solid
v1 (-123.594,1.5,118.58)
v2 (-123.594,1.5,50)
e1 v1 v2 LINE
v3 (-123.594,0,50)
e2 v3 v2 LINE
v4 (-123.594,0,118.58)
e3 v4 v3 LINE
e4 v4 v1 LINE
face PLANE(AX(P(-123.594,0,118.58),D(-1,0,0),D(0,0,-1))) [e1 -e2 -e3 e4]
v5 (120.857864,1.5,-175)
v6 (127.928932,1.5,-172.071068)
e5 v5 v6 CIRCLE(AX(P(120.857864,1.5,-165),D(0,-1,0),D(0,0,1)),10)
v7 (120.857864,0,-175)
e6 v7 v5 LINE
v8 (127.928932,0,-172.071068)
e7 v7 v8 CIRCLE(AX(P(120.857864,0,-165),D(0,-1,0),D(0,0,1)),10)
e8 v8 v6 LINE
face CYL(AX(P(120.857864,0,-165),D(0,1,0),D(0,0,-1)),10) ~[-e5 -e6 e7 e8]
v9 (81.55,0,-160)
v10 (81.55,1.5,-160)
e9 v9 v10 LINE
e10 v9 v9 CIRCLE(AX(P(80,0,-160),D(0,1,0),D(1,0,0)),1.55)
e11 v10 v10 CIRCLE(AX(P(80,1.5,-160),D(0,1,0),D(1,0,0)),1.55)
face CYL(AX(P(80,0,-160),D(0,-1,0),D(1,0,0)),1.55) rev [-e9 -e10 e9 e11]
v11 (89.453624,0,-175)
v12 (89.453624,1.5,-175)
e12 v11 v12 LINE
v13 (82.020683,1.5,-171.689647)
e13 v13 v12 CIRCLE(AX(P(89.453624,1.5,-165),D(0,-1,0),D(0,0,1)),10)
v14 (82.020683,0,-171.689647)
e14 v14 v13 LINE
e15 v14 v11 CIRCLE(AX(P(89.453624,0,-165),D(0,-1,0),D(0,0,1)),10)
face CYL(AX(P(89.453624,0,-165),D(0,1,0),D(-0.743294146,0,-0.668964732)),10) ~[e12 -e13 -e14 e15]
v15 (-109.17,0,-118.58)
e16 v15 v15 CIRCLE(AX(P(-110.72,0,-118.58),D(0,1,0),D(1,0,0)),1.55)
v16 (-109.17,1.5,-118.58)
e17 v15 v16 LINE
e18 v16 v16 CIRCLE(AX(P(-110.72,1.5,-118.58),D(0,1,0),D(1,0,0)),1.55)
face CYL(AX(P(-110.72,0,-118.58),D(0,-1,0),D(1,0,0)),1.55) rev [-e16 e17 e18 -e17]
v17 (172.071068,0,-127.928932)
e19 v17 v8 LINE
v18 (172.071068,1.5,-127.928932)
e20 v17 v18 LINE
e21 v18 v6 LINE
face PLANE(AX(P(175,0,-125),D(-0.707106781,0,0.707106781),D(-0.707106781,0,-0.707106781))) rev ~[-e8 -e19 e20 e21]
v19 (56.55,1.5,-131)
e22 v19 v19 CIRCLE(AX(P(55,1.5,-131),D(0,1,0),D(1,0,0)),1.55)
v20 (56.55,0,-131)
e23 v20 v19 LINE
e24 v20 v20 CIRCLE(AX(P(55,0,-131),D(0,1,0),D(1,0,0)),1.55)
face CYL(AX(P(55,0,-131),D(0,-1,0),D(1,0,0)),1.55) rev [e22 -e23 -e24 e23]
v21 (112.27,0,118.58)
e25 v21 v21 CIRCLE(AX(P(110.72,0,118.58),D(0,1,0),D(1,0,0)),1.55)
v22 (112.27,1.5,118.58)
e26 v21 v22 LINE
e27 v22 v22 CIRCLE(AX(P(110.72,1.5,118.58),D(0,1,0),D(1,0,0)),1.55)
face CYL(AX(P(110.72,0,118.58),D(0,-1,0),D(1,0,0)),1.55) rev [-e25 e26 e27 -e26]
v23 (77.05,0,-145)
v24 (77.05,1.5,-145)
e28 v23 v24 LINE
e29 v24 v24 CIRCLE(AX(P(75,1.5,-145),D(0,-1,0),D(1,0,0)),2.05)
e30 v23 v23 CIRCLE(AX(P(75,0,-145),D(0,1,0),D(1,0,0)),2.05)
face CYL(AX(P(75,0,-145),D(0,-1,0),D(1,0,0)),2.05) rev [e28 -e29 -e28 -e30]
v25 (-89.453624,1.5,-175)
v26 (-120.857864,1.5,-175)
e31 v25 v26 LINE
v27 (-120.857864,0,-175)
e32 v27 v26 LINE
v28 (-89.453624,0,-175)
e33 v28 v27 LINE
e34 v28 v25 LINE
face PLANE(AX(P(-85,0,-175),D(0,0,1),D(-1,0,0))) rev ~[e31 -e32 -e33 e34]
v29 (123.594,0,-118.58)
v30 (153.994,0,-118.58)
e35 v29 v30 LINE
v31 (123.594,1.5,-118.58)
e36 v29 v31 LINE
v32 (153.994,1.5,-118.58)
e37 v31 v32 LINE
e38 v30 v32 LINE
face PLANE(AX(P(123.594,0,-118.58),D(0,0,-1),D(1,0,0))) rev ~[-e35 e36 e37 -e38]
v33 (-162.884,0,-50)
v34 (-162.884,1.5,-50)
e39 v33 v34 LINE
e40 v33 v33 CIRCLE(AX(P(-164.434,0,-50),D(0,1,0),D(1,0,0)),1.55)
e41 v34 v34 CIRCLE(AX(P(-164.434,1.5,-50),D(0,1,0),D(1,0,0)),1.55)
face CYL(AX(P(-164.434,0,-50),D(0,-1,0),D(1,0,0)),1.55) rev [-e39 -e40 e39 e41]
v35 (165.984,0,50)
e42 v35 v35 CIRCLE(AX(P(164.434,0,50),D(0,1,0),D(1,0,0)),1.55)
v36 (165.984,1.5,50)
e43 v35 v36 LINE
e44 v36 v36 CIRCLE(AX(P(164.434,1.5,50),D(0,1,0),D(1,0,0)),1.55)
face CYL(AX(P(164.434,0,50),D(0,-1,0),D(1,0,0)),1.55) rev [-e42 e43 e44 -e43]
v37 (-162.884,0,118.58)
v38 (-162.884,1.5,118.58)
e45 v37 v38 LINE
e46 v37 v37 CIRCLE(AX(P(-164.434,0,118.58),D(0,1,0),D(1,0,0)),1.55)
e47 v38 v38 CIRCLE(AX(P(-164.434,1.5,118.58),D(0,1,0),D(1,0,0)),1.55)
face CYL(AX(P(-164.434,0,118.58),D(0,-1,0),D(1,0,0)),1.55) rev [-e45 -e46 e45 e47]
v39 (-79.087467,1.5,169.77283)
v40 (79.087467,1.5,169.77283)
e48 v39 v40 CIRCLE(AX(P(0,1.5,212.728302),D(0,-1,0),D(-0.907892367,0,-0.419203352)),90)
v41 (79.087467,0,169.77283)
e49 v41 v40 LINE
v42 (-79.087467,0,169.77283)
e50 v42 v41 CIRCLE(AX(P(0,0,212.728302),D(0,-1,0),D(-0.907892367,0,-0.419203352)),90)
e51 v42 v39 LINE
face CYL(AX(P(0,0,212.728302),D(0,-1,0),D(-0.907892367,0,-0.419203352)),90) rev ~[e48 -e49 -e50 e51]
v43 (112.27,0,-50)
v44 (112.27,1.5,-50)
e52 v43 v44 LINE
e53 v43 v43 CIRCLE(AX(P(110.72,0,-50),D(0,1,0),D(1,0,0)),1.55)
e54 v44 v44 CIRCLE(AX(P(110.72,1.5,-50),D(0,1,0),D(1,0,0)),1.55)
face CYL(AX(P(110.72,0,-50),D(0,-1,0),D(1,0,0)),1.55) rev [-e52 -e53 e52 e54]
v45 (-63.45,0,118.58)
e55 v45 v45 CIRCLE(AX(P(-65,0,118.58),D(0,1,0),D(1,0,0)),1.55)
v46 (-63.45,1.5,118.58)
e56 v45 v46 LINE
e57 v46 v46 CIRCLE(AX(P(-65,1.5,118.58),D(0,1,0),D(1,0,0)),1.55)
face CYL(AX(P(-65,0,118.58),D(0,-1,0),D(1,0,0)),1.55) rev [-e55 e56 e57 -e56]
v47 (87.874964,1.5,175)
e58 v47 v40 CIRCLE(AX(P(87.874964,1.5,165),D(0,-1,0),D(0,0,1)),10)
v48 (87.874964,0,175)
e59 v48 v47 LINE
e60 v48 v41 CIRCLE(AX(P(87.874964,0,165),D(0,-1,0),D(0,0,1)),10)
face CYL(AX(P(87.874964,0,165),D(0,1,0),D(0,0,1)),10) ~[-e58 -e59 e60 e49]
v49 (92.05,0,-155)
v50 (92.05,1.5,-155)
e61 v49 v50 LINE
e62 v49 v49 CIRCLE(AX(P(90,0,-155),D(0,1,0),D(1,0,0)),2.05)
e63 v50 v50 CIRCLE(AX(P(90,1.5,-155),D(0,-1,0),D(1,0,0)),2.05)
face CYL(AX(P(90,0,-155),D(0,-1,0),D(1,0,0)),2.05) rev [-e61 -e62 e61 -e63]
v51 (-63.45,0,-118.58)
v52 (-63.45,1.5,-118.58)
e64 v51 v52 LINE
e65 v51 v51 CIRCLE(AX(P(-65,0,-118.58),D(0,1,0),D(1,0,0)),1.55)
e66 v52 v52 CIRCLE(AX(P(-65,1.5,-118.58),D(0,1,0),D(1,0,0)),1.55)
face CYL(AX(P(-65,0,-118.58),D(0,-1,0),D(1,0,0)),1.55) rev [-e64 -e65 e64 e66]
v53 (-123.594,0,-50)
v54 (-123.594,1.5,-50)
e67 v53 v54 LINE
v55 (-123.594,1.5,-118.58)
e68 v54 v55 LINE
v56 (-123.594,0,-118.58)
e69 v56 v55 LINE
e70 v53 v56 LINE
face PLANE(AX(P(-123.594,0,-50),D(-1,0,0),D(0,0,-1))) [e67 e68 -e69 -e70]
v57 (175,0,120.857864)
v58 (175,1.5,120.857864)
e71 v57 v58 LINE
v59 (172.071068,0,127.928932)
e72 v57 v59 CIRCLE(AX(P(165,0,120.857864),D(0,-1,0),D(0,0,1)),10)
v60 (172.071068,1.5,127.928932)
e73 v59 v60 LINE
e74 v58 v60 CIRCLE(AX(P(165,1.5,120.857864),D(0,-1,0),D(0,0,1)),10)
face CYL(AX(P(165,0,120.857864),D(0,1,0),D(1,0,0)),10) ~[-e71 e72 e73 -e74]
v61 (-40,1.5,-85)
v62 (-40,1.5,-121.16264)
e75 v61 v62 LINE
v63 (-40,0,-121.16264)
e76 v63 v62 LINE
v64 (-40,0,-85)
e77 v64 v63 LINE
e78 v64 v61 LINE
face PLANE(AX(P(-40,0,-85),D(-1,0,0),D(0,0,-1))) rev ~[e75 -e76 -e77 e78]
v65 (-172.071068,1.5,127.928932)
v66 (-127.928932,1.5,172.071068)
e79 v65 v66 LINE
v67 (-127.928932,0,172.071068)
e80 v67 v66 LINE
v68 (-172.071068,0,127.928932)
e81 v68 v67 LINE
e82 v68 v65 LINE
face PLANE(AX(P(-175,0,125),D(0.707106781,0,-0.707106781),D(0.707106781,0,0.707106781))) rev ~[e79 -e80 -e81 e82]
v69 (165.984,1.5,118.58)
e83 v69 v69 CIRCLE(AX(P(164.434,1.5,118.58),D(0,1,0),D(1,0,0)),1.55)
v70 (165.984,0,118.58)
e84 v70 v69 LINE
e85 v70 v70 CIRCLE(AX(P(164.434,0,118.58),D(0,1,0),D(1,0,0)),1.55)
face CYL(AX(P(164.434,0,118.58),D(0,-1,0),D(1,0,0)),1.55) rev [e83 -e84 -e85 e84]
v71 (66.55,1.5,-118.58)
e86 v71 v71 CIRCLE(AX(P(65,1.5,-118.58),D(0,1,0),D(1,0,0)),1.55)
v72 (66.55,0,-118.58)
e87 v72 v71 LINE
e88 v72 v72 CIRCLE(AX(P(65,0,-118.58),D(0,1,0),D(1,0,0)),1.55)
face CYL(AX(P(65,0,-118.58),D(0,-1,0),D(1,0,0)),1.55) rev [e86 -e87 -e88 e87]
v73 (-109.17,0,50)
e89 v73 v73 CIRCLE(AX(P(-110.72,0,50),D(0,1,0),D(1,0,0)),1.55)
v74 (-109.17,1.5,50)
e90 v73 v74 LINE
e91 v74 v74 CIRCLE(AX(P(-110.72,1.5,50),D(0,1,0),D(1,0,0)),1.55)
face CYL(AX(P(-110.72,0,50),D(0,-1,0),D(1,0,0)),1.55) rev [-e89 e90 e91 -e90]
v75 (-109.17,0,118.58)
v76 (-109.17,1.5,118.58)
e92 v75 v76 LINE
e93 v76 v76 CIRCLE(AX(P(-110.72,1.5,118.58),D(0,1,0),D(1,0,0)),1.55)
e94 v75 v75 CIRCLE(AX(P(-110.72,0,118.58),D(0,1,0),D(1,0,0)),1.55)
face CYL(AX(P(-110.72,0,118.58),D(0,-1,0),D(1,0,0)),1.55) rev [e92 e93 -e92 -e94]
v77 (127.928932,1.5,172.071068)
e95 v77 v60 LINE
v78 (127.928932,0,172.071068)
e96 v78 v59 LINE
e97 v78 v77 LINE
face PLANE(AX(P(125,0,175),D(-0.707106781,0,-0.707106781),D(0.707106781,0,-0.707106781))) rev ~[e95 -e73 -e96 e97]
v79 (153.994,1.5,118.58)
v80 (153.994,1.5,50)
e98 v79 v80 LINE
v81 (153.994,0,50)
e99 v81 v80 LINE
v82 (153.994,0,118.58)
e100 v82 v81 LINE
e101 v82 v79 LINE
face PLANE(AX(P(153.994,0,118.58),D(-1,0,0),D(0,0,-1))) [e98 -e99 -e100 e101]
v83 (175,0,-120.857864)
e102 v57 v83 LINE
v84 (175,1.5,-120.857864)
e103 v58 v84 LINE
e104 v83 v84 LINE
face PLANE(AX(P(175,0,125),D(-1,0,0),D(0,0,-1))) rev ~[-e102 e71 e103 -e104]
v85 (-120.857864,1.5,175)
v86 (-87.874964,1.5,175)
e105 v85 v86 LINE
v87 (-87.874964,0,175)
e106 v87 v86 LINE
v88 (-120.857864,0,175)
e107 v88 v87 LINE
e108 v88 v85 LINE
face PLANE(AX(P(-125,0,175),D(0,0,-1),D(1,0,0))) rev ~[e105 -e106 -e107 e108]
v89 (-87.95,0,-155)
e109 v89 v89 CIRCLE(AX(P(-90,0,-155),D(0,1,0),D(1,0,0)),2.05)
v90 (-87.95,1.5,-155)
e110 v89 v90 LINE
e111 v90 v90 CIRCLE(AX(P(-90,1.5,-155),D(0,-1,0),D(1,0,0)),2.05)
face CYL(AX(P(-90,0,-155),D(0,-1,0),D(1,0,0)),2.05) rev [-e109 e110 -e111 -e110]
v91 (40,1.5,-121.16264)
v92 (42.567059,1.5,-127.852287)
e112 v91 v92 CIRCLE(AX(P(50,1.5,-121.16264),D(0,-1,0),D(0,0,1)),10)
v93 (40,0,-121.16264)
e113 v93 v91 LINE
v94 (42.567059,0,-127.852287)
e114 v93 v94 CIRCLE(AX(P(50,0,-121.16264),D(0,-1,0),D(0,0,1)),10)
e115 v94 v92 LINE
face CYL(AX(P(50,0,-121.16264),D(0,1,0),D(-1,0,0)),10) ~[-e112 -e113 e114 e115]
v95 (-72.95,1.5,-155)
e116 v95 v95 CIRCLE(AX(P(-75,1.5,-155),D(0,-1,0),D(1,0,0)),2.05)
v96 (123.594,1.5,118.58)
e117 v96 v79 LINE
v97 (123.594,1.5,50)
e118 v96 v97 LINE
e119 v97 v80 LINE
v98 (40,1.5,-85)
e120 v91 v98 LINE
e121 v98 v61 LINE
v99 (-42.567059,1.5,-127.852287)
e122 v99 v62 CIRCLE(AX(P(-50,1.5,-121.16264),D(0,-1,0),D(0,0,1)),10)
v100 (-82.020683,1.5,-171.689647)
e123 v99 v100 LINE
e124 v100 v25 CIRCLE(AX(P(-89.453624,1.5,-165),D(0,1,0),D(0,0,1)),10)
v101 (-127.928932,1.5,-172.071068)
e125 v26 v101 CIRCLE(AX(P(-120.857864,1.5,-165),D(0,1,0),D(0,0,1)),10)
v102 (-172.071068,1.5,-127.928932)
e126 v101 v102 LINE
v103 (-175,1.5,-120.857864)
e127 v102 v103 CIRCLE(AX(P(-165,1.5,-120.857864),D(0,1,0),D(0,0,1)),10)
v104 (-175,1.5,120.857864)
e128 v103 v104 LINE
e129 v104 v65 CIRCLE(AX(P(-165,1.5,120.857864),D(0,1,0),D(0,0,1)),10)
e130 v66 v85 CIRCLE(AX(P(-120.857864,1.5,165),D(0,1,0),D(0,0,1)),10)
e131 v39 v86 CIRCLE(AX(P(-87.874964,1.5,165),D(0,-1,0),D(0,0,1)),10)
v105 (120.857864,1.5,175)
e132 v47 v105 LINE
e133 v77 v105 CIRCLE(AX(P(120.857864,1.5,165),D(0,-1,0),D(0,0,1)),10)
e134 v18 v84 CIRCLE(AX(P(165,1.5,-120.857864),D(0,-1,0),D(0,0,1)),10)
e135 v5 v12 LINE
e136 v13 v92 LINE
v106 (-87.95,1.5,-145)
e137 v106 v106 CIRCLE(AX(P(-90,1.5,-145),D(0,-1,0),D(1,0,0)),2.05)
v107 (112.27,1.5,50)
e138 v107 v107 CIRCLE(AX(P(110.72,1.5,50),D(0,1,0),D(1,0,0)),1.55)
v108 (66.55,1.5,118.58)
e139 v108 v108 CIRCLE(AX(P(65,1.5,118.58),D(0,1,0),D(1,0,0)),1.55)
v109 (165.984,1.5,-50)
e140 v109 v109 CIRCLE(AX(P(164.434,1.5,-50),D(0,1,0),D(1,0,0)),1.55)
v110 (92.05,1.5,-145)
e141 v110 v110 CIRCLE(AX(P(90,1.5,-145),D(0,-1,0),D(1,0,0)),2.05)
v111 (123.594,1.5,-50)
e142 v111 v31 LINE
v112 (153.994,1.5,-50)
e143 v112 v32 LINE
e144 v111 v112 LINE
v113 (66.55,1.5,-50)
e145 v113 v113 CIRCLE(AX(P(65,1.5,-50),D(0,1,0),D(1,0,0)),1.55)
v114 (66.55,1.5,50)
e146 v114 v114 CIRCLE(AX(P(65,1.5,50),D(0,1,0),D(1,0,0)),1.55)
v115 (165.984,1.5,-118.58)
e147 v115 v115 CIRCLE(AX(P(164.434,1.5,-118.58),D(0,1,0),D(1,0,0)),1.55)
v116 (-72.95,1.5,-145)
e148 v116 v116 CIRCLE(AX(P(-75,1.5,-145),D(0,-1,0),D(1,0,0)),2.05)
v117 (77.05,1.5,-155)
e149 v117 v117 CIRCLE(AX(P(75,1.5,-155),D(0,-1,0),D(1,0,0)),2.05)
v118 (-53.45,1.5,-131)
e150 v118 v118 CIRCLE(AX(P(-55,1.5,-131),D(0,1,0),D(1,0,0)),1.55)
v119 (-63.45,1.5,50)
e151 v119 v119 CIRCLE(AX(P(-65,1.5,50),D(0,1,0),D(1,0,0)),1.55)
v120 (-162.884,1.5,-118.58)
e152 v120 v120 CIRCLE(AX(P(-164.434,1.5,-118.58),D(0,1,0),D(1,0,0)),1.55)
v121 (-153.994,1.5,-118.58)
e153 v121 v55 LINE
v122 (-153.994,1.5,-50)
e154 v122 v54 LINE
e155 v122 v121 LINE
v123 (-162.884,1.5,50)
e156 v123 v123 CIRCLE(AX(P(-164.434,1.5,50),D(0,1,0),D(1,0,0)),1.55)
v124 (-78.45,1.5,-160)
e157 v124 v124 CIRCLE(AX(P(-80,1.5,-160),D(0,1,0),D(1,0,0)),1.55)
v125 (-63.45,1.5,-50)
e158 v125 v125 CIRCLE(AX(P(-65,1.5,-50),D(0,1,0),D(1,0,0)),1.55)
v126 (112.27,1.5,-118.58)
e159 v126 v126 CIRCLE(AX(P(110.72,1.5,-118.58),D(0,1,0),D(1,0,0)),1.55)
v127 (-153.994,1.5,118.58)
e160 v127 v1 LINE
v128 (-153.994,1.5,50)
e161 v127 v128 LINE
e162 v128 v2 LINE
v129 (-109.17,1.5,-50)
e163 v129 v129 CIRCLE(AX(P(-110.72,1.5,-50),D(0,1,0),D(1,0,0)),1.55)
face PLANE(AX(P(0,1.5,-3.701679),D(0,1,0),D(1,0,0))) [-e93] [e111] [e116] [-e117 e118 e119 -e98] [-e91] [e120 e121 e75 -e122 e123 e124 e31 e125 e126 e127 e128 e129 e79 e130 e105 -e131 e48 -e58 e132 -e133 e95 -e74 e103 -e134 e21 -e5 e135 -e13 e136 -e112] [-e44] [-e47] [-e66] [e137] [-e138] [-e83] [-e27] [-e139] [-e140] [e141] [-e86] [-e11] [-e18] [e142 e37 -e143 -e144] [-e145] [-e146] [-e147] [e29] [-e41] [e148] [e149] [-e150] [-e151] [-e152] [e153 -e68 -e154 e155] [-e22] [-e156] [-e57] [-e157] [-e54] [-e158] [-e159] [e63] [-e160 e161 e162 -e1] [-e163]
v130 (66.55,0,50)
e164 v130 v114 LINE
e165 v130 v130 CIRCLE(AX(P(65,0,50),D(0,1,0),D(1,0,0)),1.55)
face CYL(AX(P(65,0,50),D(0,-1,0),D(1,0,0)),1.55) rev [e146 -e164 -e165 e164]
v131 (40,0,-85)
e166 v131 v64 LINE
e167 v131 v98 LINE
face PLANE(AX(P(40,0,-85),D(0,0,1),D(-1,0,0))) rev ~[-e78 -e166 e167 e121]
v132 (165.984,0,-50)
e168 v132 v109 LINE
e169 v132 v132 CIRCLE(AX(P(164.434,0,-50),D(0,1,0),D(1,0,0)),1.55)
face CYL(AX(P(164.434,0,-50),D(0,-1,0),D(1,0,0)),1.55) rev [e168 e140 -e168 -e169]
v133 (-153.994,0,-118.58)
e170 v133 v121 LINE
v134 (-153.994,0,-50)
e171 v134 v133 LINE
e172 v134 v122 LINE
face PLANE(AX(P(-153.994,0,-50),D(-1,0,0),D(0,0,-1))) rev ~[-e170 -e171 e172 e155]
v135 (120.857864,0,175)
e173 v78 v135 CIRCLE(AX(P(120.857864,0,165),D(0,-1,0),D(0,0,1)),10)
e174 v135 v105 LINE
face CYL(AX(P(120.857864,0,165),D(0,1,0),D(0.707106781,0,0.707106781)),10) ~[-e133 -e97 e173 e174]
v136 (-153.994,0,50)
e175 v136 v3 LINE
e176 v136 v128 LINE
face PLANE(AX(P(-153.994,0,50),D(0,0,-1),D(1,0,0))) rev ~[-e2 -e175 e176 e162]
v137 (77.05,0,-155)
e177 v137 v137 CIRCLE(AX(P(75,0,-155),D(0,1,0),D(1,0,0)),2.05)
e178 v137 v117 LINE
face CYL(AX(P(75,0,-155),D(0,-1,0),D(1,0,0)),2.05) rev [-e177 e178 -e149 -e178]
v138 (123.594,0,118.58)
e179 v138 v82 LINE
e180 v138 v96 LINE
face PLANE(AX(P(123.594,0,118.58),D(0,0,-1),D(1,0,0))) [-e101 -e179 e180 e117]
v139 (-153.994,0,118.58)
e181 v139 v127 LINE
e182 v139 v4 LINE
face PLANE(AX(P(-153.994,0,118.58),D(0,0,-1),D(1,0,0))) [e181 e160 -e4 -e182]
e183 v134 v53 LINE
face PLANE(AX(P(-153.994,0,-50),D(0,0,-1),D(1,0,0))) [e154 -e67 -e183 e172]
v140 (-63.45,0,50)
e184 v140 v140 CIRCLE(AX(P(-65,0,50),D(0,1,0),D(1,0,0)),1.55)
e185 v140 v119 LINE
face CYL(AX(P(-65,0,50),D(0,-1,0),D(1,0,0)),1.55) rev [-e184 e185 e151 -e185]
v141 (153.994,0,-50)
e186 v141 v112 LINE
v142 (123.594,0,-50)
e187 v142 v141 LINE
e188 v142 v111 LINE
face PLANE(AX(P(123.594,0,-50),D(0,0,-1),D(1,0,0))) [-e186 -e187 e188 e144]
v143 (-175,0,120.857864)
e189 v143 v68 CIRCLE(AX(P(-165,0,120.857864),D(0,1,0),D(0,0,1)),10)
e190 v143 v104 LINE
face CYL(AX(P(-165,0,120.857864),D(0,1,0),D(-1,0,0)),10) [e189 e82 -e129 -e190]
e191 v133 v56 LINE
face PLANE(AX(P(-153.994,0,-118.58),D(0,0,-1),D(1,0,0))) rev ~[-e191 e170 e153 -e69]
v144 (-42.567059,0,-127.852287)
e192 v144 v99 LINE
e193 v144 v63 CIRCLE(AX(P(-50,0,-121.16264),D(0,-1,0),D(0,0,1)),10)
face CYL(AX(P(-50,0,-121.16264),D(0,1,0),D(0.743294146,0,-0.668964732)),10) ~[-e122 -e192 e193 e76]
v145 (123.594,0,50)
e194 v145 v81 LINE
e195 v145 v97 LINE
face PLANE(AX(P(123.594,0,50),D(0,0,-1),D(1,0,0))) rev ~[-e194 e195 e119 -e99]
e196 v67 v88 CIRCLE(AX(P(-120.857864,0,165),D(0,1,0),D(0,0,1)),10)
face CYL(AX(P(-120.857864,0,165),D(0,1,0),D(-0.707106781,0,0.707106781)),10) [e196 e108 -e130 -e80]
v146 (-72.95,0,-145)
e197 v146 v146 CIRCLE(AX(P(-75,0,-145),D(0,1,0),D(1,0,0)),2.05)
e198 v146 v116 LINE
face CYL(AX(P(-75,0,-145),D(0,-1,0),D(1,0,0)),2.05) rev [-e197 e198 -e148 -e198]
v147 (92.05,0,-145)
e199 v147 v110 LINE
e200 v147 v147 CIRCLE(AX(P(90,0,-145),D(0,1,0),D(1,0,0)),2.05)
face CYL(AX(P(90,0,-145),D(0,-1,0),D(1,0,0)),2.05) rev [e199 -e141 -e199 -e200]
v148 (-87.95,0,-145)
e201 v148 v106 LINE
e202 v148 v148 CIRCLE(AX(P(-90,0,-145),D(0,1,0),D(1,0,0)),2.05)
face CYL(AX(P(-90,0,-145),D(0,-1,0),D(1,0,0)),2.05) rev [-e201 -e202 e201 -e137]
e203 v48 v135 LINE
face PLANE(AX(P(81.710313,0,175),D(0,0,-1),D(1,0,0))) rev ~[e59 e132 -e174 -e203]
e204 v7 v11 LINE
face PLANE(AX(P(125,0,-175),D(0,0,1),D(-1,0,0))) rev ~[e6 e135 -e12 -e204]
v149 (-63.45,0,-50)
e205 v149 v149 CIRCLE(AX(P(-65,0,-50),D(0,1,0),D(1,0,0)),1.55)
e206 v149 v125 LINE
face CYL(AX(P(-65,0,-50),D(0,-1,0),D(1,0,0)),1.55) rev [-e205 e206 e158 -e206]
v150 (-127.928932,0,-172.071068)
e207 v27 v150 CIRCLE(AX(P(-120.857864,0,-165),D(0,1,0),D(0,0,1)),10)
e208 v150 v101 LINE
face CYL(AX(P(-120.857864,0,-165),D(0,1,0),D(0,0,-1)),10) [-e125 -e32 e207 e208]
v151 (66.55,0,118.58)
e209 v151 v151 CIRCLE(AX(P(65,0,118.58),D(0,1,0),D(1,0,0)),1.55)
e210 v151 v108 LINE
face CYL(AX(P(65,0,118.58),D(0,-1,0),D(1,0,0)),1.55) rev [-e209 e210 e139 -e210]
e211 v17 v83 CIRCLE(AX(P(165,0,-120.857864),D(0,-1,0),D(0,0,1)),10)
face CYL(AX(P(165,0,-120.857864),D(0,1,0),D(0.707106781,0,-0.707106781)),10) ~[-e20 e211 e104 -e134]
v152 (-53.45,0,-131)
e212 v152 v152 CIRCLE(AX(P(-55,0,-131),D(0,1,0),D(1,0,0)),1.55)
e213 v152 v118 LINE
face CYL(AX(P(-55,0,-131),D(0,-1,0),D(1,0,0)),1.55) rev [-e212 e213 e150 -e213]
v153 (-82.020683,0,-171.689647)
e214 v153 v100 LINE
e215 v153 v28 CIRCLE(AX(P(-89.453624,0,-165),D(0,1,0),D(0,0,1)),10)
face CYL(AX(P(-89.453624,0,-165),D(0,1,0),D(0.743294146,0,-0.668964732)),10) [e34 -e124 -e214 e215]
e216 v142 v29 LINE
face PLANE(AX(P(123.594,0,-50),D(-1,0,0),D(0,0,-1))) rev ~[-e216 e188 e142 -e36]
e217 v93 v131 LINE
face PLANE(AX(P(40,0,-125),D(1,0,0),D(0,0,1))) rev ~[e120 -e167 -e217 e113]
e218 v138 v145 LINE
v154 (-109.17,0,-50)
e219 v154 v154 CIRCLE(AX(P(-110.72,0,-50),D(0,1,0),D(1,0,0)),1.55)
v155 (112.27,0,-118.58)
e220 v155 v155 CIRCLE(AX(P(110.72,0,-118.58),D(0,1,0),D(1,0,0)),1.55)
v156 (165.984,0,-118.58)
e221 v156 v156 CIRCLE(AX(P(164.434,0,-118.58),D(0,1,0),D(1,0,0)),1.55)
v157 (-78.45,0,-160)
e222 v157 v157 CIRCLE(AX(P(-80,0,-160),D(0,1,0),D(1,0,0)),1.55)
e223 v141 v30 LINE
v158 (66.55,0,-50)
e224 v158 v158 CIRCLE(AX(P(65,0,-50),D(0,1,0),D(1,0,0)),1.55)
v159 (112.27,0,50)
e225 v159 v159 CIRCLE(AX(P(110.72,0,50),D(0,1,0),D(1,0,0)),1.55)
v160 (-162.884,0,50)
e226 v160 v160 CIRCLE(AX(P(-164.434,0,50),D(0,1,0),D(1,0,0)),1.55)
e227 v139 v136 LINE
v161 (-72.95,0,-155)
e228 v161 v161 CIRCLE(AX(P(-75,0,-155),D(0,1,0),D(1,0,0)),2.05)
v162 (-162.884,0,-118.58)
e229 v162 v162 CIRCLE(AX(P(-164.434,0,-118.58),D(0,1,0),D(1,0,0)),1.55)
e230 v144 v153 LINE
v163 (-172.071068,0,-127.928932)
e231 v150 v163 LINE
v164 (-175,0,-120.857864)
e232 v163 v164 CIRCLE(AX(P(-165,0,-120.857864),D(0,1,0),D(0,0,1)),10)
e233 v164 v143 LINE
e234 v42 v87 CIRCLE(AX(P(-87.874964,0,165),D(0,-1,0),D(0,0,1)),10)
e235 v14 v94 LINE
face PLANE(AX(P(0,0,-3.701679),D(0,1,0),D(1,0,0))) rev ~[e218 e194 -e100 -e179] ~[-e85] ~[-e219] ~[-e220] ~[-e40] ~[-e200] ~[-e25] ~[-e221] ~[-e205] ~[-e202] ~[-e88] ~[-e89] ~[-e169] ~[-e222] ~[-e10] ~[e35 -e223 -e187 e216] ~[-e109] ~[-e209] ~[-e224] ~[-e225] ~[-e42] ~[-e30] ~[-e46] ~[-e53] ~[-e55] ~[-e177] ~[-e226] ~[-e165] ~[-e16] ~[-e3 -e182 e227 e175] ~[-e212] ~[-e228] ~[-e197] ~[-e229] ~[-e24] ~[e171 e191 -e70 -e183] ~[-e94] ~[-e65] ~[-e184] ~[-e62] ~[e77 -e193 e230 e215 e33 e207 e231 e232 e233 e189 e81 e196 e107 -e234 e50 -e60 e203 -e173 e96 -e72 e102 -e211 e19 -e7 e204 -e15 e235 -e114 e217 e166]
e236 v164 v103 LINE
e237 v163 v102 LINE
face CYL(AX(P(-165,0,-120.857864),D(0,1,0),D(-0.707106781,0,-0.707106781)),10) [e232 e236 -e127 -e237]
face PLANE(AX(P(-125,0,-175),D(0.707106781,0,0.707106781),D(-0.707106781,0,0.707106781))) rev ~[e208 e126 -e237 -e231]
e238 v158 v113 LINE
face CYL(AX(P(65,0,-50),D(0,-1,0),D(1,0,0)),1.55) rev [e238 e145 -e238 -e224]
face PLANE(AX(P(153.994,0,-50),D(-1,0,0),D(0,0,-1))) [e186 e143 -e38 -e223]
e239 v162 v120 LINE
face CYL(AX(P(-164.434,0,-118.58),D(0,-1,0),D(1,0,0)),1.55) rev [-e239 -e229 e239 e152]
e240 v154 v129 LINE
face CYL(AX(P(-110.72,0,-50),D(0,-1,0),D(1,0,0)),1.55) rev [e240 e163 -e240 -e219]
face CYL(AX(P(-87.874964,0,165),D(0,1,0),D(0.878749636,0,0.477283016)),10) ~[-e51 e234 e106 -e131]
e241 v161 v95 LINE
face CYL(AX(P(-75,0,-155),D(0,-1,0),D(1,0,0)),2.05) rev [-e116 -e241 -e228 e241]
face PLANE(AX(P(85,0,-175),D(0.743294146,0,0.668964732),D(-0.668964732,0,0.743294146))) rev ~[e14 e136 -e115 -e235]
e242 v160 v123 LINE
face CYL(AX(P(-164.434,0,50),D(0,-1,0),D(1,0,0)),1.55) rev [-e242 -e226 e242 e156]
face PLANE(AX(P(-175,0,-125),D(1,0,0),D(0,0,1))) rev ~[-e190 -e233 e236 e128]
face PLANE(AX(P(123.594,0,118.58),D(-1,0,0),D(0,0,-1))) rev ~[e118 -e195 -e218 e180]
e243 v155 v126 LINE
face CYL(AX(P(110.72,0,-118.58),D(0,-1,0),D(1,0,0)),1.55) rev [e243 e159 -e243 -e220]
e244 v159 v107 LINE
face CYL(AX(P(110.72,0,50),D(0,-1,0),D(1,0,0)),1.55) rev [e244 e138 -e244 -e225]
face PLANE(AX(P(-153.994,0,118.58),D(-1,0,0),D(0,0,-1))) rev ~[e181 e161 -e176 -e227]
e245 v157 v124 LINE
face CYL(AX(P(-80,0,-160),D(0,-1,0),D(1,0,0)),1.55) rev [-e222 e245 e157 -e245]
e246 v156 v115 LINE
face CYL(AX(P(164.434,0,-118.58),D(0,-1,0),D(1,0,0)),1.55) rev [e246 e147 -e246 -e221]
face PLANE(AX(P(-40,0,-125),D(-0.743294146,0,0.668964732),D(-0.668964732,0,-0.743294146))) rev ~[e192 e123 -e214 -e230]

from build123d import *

# Parameters (mm, degrees)
SKETCH_1_R          = 1.55
SKETCH_1_W          = 30.4
SKETCH_1_H          = 68.58
EXTRUDE_1_DEPTH     = 1.5
FILLET_1_R          = 10
FILLET_2_R          = 10
FILLET_3_R          = 10
SKETCH_1_5_R        = 2.05
CUT_EXTRUDE_3_DEPTH = 10


with BuildPart() as part:
    # 草图1 → 凸台-拉伸1 (new body)
    with BuildSketch(Plane(origin=(0, 0, 0), x_dir=(1, 0, 0), z_dir=(0, 1, 0))):
        with BuildLine():
            Line((-125, 175), (-175, 125))
            Line((-175, 125), (-175, -125))
            Line((-175, -125), (-125, -175))
            Line((-125, -175), (-81.710313025, -175))
            ThreePointArc((-81.710313025, -175), (0, -122.728301649), (81.710313025, -175))
            Line((81.710313025, -175), (125, -175))
            Line((125, -175), (175, -125))
            Line((175, -125), (175, 125))
            Line((175, 125), (125, 175))
            Line((125, 175), (85, 175))
            Line((85, 175), (40, 125))
            Line((40, 125), (40, 85))
            Line((40, 85), (-40, 85))
            Line((-40, 85), (-40, 125))
            Line((-40, 125), (-85, 175))
            Line((-85, 175), (-125, 175))
        make_face()
        with Locations((-55, 131)):
            Circle(SKETCH_1_R, mode=Mode.SUBTRACT)
        with Locations((-80, 160)):
            Circle(SKETCH_1_R, mode=Mode.SUBTRACT)
        with Locations((55, 131)):
            Circle(SKETCH_1_R, mode=Mode.SUBTRACT)
        with Locations((80, 160)):
            Circle(SKETCH_1_R, mode=Mode.SUBTRACT)
        with Locations((-65, 118.58)):
            Circle(SKETCH_1_R, mode=Mode.SUBTRACT)
        with Locations((-65, 50)):
            Circle(SKETCH_1_R, mode=Mode.SUBTRACT)
        with Locations((-110.72, 50)):
            Circle(SKETCH_1_R, mode=Mode.SUBTRACT)
        with Locations((-110.72, 118.58)):
            Circle(SKETCH_1_R, mode=Mode.SUBTRACT)
        with Locations((-164.434, 118.58)):
            Circle(SKETCH_1_R, mode=Mode.SUBTRACT)
        with Locations((-164.434, 50)):
            Circle(SKETCH_1_R, mode=Mode.SUBTRACT)
        with Locations((-65, -118.58)):
            Circle(SKETCH_1_R, mode=Mode.SUBTRACT)
        with Locations((-65, -50)):
            Circle(SKETCH_1_R, mode=Mode.SUBTRACT)
        with Locations((-110.72, -50)):
            Circle(SKETCH_1_R, mode=Mode.SUBTRACT)
        with Locations((-110.72, -118.58)):
            Circle(SKETCH_1_R, mode=Mode.SUBTRACT)
        with Locations((-164.434, -50)):
            Circle(SKETCH_1_R, mode=Mode.SUBTRACT)
        with Locations((-164.434, -118.58)):
            Circle(SKETCH_1_R, mode=Mode.SUBTRACT)
        with Locations((65, 50)):
            Circle(SKETCH_1_R, mode=Mode.SUBTRACT)
        with Locations((110.72, 50)):
            Circle(SKETCH_1_R, mode=Mode.SUBTRACT)
        with Locations((110.72, 118.58)):
            Circle(SKETCH_1_R, mode=Mode.SUBTRACT)
        with Locations((65, 118.58)):
            Circle(SKETCH_1_R, mode=Mode.SUBTRACT)
        with Locations((164.434, 118.58)):
            Circle(SKETCH_1_R, mode=Mode.SUBTRACT)
        with Locations((164.434, 50)):
            Circle(SKETCH_1_R, mode=Mode.SUBTRACT)
        with Locations((164.434, -118.58)):
            Circle(SKETCH_1_R, mode=Mode.SUBTRACT)
        with Locations((164.434, -50)):
            Circle(SKETCH_1_R, mode=Mode.SUBTRACT)
        with Locations((110.72, -50)):
            Circle(SKETCH_1_R, mode=Mode.SUBTRACT)
        with Locations((110.72, -118.58)):
            Circle(SKETCH_1_R, mode=Mode.SUBTRACT)
        with Locations((65, -118.58)):
            Circle(SKETCH_1_R, mode=Mode.SUBTRACT)
        with Locations((65, -50)):
            Circle(SKETCH_1_R, mode=Mode.SUBTRACT)
        with Locations((-138.794, 84.29)):
            Rectangle(SKETCH_1_W, SKETCH_1_H, mode=Mode.SUBTRACT)
        with Locations((138.794, 84.29)):
            Rectangle(SKETCH_1_W, SKETCH_1_H, mode=Mode.SUBTRACT)
        with Locations((-138.794, -84.29)):
            Rectangle(SKETCH_1_W, SKETCH_1_H, mode=Mode.SUBTRACT)
        with Locations((138.794, -84.29)):
            Rectangle(SKETCH_1_W, SKETCH_1_H, mode=Mode.SUBTRACT)
    extrude(amount=EXTRUDE_1_DEPTH)

    # 圆角1
    fillet_1_edges = [part.edges().sort_by_distance(p)[0] for p in [
        (-40, 0.75, -125),
    ]]
    fillet(fillet_1_edges, radius=FILLET_1_R)

    # 圆角2
    fillet_2_edges = [part.edges().sort_by_distance(p)[0] for p in [
        (40, 0.75, -125),
    ]]
    fillet(fillet_2_edges, radius=FILLET_2_R)

    # 圆角3
    fillet_3_edges = [part.edges().sort_by_distance(p)[0] for p in [
        (175, 0.75, 125),
        (125, 0.75, 175),
        (81.710313025, 0.75, 175),
        (-81.710313025, 0.75, 175),
        (-125, 0.75, 175),
        (-175, 0.75, 125),
        (-175, 0.75, -125),
        (-125, 0.75, -175),
        (-85, 0.75, -175),
        (85, 0.75, -175),
        (125, 0.75, -175),
        (175, 0.75, -125),
    ]]
    fillet(fillet_3_edges, radius=FILLET_3_R)

    # 草图1<5> → 切除-拉伸3 (cut)
    with BuildSketch(Plane(origin=(0, 0, 0), x_dir=(1, 0, 0), z_dir=(0, 1, 0))):
        with Locations((90, 155)):
            Circle(SKETCH_1_5_R)
        with Locations((75, 155)):
            Circle(SKETCH_1_5_R)
        with Locations((90, 145)):
            Circle(SKETCH_1_5_R)
        with Locations((75, 145)):
            Circle(SKETCH_1_5_R)
        with Locations((-75, 145)):
            Circle(SKETCH_1_5_R)
        with Locations((-90, 155)):
            Circle(SKETCH_1_5_R)
        with Locations((-90, 145)):
            Circle(SKETCH_1_5_R)
        with Locations((-75, 155)):
            Circle(SKETCH_1_5_R)
    extrude(amount=CUT_EXTRUDE_3_DEPTH, mode=Mode.SUBTRACT)


solid = part.part
